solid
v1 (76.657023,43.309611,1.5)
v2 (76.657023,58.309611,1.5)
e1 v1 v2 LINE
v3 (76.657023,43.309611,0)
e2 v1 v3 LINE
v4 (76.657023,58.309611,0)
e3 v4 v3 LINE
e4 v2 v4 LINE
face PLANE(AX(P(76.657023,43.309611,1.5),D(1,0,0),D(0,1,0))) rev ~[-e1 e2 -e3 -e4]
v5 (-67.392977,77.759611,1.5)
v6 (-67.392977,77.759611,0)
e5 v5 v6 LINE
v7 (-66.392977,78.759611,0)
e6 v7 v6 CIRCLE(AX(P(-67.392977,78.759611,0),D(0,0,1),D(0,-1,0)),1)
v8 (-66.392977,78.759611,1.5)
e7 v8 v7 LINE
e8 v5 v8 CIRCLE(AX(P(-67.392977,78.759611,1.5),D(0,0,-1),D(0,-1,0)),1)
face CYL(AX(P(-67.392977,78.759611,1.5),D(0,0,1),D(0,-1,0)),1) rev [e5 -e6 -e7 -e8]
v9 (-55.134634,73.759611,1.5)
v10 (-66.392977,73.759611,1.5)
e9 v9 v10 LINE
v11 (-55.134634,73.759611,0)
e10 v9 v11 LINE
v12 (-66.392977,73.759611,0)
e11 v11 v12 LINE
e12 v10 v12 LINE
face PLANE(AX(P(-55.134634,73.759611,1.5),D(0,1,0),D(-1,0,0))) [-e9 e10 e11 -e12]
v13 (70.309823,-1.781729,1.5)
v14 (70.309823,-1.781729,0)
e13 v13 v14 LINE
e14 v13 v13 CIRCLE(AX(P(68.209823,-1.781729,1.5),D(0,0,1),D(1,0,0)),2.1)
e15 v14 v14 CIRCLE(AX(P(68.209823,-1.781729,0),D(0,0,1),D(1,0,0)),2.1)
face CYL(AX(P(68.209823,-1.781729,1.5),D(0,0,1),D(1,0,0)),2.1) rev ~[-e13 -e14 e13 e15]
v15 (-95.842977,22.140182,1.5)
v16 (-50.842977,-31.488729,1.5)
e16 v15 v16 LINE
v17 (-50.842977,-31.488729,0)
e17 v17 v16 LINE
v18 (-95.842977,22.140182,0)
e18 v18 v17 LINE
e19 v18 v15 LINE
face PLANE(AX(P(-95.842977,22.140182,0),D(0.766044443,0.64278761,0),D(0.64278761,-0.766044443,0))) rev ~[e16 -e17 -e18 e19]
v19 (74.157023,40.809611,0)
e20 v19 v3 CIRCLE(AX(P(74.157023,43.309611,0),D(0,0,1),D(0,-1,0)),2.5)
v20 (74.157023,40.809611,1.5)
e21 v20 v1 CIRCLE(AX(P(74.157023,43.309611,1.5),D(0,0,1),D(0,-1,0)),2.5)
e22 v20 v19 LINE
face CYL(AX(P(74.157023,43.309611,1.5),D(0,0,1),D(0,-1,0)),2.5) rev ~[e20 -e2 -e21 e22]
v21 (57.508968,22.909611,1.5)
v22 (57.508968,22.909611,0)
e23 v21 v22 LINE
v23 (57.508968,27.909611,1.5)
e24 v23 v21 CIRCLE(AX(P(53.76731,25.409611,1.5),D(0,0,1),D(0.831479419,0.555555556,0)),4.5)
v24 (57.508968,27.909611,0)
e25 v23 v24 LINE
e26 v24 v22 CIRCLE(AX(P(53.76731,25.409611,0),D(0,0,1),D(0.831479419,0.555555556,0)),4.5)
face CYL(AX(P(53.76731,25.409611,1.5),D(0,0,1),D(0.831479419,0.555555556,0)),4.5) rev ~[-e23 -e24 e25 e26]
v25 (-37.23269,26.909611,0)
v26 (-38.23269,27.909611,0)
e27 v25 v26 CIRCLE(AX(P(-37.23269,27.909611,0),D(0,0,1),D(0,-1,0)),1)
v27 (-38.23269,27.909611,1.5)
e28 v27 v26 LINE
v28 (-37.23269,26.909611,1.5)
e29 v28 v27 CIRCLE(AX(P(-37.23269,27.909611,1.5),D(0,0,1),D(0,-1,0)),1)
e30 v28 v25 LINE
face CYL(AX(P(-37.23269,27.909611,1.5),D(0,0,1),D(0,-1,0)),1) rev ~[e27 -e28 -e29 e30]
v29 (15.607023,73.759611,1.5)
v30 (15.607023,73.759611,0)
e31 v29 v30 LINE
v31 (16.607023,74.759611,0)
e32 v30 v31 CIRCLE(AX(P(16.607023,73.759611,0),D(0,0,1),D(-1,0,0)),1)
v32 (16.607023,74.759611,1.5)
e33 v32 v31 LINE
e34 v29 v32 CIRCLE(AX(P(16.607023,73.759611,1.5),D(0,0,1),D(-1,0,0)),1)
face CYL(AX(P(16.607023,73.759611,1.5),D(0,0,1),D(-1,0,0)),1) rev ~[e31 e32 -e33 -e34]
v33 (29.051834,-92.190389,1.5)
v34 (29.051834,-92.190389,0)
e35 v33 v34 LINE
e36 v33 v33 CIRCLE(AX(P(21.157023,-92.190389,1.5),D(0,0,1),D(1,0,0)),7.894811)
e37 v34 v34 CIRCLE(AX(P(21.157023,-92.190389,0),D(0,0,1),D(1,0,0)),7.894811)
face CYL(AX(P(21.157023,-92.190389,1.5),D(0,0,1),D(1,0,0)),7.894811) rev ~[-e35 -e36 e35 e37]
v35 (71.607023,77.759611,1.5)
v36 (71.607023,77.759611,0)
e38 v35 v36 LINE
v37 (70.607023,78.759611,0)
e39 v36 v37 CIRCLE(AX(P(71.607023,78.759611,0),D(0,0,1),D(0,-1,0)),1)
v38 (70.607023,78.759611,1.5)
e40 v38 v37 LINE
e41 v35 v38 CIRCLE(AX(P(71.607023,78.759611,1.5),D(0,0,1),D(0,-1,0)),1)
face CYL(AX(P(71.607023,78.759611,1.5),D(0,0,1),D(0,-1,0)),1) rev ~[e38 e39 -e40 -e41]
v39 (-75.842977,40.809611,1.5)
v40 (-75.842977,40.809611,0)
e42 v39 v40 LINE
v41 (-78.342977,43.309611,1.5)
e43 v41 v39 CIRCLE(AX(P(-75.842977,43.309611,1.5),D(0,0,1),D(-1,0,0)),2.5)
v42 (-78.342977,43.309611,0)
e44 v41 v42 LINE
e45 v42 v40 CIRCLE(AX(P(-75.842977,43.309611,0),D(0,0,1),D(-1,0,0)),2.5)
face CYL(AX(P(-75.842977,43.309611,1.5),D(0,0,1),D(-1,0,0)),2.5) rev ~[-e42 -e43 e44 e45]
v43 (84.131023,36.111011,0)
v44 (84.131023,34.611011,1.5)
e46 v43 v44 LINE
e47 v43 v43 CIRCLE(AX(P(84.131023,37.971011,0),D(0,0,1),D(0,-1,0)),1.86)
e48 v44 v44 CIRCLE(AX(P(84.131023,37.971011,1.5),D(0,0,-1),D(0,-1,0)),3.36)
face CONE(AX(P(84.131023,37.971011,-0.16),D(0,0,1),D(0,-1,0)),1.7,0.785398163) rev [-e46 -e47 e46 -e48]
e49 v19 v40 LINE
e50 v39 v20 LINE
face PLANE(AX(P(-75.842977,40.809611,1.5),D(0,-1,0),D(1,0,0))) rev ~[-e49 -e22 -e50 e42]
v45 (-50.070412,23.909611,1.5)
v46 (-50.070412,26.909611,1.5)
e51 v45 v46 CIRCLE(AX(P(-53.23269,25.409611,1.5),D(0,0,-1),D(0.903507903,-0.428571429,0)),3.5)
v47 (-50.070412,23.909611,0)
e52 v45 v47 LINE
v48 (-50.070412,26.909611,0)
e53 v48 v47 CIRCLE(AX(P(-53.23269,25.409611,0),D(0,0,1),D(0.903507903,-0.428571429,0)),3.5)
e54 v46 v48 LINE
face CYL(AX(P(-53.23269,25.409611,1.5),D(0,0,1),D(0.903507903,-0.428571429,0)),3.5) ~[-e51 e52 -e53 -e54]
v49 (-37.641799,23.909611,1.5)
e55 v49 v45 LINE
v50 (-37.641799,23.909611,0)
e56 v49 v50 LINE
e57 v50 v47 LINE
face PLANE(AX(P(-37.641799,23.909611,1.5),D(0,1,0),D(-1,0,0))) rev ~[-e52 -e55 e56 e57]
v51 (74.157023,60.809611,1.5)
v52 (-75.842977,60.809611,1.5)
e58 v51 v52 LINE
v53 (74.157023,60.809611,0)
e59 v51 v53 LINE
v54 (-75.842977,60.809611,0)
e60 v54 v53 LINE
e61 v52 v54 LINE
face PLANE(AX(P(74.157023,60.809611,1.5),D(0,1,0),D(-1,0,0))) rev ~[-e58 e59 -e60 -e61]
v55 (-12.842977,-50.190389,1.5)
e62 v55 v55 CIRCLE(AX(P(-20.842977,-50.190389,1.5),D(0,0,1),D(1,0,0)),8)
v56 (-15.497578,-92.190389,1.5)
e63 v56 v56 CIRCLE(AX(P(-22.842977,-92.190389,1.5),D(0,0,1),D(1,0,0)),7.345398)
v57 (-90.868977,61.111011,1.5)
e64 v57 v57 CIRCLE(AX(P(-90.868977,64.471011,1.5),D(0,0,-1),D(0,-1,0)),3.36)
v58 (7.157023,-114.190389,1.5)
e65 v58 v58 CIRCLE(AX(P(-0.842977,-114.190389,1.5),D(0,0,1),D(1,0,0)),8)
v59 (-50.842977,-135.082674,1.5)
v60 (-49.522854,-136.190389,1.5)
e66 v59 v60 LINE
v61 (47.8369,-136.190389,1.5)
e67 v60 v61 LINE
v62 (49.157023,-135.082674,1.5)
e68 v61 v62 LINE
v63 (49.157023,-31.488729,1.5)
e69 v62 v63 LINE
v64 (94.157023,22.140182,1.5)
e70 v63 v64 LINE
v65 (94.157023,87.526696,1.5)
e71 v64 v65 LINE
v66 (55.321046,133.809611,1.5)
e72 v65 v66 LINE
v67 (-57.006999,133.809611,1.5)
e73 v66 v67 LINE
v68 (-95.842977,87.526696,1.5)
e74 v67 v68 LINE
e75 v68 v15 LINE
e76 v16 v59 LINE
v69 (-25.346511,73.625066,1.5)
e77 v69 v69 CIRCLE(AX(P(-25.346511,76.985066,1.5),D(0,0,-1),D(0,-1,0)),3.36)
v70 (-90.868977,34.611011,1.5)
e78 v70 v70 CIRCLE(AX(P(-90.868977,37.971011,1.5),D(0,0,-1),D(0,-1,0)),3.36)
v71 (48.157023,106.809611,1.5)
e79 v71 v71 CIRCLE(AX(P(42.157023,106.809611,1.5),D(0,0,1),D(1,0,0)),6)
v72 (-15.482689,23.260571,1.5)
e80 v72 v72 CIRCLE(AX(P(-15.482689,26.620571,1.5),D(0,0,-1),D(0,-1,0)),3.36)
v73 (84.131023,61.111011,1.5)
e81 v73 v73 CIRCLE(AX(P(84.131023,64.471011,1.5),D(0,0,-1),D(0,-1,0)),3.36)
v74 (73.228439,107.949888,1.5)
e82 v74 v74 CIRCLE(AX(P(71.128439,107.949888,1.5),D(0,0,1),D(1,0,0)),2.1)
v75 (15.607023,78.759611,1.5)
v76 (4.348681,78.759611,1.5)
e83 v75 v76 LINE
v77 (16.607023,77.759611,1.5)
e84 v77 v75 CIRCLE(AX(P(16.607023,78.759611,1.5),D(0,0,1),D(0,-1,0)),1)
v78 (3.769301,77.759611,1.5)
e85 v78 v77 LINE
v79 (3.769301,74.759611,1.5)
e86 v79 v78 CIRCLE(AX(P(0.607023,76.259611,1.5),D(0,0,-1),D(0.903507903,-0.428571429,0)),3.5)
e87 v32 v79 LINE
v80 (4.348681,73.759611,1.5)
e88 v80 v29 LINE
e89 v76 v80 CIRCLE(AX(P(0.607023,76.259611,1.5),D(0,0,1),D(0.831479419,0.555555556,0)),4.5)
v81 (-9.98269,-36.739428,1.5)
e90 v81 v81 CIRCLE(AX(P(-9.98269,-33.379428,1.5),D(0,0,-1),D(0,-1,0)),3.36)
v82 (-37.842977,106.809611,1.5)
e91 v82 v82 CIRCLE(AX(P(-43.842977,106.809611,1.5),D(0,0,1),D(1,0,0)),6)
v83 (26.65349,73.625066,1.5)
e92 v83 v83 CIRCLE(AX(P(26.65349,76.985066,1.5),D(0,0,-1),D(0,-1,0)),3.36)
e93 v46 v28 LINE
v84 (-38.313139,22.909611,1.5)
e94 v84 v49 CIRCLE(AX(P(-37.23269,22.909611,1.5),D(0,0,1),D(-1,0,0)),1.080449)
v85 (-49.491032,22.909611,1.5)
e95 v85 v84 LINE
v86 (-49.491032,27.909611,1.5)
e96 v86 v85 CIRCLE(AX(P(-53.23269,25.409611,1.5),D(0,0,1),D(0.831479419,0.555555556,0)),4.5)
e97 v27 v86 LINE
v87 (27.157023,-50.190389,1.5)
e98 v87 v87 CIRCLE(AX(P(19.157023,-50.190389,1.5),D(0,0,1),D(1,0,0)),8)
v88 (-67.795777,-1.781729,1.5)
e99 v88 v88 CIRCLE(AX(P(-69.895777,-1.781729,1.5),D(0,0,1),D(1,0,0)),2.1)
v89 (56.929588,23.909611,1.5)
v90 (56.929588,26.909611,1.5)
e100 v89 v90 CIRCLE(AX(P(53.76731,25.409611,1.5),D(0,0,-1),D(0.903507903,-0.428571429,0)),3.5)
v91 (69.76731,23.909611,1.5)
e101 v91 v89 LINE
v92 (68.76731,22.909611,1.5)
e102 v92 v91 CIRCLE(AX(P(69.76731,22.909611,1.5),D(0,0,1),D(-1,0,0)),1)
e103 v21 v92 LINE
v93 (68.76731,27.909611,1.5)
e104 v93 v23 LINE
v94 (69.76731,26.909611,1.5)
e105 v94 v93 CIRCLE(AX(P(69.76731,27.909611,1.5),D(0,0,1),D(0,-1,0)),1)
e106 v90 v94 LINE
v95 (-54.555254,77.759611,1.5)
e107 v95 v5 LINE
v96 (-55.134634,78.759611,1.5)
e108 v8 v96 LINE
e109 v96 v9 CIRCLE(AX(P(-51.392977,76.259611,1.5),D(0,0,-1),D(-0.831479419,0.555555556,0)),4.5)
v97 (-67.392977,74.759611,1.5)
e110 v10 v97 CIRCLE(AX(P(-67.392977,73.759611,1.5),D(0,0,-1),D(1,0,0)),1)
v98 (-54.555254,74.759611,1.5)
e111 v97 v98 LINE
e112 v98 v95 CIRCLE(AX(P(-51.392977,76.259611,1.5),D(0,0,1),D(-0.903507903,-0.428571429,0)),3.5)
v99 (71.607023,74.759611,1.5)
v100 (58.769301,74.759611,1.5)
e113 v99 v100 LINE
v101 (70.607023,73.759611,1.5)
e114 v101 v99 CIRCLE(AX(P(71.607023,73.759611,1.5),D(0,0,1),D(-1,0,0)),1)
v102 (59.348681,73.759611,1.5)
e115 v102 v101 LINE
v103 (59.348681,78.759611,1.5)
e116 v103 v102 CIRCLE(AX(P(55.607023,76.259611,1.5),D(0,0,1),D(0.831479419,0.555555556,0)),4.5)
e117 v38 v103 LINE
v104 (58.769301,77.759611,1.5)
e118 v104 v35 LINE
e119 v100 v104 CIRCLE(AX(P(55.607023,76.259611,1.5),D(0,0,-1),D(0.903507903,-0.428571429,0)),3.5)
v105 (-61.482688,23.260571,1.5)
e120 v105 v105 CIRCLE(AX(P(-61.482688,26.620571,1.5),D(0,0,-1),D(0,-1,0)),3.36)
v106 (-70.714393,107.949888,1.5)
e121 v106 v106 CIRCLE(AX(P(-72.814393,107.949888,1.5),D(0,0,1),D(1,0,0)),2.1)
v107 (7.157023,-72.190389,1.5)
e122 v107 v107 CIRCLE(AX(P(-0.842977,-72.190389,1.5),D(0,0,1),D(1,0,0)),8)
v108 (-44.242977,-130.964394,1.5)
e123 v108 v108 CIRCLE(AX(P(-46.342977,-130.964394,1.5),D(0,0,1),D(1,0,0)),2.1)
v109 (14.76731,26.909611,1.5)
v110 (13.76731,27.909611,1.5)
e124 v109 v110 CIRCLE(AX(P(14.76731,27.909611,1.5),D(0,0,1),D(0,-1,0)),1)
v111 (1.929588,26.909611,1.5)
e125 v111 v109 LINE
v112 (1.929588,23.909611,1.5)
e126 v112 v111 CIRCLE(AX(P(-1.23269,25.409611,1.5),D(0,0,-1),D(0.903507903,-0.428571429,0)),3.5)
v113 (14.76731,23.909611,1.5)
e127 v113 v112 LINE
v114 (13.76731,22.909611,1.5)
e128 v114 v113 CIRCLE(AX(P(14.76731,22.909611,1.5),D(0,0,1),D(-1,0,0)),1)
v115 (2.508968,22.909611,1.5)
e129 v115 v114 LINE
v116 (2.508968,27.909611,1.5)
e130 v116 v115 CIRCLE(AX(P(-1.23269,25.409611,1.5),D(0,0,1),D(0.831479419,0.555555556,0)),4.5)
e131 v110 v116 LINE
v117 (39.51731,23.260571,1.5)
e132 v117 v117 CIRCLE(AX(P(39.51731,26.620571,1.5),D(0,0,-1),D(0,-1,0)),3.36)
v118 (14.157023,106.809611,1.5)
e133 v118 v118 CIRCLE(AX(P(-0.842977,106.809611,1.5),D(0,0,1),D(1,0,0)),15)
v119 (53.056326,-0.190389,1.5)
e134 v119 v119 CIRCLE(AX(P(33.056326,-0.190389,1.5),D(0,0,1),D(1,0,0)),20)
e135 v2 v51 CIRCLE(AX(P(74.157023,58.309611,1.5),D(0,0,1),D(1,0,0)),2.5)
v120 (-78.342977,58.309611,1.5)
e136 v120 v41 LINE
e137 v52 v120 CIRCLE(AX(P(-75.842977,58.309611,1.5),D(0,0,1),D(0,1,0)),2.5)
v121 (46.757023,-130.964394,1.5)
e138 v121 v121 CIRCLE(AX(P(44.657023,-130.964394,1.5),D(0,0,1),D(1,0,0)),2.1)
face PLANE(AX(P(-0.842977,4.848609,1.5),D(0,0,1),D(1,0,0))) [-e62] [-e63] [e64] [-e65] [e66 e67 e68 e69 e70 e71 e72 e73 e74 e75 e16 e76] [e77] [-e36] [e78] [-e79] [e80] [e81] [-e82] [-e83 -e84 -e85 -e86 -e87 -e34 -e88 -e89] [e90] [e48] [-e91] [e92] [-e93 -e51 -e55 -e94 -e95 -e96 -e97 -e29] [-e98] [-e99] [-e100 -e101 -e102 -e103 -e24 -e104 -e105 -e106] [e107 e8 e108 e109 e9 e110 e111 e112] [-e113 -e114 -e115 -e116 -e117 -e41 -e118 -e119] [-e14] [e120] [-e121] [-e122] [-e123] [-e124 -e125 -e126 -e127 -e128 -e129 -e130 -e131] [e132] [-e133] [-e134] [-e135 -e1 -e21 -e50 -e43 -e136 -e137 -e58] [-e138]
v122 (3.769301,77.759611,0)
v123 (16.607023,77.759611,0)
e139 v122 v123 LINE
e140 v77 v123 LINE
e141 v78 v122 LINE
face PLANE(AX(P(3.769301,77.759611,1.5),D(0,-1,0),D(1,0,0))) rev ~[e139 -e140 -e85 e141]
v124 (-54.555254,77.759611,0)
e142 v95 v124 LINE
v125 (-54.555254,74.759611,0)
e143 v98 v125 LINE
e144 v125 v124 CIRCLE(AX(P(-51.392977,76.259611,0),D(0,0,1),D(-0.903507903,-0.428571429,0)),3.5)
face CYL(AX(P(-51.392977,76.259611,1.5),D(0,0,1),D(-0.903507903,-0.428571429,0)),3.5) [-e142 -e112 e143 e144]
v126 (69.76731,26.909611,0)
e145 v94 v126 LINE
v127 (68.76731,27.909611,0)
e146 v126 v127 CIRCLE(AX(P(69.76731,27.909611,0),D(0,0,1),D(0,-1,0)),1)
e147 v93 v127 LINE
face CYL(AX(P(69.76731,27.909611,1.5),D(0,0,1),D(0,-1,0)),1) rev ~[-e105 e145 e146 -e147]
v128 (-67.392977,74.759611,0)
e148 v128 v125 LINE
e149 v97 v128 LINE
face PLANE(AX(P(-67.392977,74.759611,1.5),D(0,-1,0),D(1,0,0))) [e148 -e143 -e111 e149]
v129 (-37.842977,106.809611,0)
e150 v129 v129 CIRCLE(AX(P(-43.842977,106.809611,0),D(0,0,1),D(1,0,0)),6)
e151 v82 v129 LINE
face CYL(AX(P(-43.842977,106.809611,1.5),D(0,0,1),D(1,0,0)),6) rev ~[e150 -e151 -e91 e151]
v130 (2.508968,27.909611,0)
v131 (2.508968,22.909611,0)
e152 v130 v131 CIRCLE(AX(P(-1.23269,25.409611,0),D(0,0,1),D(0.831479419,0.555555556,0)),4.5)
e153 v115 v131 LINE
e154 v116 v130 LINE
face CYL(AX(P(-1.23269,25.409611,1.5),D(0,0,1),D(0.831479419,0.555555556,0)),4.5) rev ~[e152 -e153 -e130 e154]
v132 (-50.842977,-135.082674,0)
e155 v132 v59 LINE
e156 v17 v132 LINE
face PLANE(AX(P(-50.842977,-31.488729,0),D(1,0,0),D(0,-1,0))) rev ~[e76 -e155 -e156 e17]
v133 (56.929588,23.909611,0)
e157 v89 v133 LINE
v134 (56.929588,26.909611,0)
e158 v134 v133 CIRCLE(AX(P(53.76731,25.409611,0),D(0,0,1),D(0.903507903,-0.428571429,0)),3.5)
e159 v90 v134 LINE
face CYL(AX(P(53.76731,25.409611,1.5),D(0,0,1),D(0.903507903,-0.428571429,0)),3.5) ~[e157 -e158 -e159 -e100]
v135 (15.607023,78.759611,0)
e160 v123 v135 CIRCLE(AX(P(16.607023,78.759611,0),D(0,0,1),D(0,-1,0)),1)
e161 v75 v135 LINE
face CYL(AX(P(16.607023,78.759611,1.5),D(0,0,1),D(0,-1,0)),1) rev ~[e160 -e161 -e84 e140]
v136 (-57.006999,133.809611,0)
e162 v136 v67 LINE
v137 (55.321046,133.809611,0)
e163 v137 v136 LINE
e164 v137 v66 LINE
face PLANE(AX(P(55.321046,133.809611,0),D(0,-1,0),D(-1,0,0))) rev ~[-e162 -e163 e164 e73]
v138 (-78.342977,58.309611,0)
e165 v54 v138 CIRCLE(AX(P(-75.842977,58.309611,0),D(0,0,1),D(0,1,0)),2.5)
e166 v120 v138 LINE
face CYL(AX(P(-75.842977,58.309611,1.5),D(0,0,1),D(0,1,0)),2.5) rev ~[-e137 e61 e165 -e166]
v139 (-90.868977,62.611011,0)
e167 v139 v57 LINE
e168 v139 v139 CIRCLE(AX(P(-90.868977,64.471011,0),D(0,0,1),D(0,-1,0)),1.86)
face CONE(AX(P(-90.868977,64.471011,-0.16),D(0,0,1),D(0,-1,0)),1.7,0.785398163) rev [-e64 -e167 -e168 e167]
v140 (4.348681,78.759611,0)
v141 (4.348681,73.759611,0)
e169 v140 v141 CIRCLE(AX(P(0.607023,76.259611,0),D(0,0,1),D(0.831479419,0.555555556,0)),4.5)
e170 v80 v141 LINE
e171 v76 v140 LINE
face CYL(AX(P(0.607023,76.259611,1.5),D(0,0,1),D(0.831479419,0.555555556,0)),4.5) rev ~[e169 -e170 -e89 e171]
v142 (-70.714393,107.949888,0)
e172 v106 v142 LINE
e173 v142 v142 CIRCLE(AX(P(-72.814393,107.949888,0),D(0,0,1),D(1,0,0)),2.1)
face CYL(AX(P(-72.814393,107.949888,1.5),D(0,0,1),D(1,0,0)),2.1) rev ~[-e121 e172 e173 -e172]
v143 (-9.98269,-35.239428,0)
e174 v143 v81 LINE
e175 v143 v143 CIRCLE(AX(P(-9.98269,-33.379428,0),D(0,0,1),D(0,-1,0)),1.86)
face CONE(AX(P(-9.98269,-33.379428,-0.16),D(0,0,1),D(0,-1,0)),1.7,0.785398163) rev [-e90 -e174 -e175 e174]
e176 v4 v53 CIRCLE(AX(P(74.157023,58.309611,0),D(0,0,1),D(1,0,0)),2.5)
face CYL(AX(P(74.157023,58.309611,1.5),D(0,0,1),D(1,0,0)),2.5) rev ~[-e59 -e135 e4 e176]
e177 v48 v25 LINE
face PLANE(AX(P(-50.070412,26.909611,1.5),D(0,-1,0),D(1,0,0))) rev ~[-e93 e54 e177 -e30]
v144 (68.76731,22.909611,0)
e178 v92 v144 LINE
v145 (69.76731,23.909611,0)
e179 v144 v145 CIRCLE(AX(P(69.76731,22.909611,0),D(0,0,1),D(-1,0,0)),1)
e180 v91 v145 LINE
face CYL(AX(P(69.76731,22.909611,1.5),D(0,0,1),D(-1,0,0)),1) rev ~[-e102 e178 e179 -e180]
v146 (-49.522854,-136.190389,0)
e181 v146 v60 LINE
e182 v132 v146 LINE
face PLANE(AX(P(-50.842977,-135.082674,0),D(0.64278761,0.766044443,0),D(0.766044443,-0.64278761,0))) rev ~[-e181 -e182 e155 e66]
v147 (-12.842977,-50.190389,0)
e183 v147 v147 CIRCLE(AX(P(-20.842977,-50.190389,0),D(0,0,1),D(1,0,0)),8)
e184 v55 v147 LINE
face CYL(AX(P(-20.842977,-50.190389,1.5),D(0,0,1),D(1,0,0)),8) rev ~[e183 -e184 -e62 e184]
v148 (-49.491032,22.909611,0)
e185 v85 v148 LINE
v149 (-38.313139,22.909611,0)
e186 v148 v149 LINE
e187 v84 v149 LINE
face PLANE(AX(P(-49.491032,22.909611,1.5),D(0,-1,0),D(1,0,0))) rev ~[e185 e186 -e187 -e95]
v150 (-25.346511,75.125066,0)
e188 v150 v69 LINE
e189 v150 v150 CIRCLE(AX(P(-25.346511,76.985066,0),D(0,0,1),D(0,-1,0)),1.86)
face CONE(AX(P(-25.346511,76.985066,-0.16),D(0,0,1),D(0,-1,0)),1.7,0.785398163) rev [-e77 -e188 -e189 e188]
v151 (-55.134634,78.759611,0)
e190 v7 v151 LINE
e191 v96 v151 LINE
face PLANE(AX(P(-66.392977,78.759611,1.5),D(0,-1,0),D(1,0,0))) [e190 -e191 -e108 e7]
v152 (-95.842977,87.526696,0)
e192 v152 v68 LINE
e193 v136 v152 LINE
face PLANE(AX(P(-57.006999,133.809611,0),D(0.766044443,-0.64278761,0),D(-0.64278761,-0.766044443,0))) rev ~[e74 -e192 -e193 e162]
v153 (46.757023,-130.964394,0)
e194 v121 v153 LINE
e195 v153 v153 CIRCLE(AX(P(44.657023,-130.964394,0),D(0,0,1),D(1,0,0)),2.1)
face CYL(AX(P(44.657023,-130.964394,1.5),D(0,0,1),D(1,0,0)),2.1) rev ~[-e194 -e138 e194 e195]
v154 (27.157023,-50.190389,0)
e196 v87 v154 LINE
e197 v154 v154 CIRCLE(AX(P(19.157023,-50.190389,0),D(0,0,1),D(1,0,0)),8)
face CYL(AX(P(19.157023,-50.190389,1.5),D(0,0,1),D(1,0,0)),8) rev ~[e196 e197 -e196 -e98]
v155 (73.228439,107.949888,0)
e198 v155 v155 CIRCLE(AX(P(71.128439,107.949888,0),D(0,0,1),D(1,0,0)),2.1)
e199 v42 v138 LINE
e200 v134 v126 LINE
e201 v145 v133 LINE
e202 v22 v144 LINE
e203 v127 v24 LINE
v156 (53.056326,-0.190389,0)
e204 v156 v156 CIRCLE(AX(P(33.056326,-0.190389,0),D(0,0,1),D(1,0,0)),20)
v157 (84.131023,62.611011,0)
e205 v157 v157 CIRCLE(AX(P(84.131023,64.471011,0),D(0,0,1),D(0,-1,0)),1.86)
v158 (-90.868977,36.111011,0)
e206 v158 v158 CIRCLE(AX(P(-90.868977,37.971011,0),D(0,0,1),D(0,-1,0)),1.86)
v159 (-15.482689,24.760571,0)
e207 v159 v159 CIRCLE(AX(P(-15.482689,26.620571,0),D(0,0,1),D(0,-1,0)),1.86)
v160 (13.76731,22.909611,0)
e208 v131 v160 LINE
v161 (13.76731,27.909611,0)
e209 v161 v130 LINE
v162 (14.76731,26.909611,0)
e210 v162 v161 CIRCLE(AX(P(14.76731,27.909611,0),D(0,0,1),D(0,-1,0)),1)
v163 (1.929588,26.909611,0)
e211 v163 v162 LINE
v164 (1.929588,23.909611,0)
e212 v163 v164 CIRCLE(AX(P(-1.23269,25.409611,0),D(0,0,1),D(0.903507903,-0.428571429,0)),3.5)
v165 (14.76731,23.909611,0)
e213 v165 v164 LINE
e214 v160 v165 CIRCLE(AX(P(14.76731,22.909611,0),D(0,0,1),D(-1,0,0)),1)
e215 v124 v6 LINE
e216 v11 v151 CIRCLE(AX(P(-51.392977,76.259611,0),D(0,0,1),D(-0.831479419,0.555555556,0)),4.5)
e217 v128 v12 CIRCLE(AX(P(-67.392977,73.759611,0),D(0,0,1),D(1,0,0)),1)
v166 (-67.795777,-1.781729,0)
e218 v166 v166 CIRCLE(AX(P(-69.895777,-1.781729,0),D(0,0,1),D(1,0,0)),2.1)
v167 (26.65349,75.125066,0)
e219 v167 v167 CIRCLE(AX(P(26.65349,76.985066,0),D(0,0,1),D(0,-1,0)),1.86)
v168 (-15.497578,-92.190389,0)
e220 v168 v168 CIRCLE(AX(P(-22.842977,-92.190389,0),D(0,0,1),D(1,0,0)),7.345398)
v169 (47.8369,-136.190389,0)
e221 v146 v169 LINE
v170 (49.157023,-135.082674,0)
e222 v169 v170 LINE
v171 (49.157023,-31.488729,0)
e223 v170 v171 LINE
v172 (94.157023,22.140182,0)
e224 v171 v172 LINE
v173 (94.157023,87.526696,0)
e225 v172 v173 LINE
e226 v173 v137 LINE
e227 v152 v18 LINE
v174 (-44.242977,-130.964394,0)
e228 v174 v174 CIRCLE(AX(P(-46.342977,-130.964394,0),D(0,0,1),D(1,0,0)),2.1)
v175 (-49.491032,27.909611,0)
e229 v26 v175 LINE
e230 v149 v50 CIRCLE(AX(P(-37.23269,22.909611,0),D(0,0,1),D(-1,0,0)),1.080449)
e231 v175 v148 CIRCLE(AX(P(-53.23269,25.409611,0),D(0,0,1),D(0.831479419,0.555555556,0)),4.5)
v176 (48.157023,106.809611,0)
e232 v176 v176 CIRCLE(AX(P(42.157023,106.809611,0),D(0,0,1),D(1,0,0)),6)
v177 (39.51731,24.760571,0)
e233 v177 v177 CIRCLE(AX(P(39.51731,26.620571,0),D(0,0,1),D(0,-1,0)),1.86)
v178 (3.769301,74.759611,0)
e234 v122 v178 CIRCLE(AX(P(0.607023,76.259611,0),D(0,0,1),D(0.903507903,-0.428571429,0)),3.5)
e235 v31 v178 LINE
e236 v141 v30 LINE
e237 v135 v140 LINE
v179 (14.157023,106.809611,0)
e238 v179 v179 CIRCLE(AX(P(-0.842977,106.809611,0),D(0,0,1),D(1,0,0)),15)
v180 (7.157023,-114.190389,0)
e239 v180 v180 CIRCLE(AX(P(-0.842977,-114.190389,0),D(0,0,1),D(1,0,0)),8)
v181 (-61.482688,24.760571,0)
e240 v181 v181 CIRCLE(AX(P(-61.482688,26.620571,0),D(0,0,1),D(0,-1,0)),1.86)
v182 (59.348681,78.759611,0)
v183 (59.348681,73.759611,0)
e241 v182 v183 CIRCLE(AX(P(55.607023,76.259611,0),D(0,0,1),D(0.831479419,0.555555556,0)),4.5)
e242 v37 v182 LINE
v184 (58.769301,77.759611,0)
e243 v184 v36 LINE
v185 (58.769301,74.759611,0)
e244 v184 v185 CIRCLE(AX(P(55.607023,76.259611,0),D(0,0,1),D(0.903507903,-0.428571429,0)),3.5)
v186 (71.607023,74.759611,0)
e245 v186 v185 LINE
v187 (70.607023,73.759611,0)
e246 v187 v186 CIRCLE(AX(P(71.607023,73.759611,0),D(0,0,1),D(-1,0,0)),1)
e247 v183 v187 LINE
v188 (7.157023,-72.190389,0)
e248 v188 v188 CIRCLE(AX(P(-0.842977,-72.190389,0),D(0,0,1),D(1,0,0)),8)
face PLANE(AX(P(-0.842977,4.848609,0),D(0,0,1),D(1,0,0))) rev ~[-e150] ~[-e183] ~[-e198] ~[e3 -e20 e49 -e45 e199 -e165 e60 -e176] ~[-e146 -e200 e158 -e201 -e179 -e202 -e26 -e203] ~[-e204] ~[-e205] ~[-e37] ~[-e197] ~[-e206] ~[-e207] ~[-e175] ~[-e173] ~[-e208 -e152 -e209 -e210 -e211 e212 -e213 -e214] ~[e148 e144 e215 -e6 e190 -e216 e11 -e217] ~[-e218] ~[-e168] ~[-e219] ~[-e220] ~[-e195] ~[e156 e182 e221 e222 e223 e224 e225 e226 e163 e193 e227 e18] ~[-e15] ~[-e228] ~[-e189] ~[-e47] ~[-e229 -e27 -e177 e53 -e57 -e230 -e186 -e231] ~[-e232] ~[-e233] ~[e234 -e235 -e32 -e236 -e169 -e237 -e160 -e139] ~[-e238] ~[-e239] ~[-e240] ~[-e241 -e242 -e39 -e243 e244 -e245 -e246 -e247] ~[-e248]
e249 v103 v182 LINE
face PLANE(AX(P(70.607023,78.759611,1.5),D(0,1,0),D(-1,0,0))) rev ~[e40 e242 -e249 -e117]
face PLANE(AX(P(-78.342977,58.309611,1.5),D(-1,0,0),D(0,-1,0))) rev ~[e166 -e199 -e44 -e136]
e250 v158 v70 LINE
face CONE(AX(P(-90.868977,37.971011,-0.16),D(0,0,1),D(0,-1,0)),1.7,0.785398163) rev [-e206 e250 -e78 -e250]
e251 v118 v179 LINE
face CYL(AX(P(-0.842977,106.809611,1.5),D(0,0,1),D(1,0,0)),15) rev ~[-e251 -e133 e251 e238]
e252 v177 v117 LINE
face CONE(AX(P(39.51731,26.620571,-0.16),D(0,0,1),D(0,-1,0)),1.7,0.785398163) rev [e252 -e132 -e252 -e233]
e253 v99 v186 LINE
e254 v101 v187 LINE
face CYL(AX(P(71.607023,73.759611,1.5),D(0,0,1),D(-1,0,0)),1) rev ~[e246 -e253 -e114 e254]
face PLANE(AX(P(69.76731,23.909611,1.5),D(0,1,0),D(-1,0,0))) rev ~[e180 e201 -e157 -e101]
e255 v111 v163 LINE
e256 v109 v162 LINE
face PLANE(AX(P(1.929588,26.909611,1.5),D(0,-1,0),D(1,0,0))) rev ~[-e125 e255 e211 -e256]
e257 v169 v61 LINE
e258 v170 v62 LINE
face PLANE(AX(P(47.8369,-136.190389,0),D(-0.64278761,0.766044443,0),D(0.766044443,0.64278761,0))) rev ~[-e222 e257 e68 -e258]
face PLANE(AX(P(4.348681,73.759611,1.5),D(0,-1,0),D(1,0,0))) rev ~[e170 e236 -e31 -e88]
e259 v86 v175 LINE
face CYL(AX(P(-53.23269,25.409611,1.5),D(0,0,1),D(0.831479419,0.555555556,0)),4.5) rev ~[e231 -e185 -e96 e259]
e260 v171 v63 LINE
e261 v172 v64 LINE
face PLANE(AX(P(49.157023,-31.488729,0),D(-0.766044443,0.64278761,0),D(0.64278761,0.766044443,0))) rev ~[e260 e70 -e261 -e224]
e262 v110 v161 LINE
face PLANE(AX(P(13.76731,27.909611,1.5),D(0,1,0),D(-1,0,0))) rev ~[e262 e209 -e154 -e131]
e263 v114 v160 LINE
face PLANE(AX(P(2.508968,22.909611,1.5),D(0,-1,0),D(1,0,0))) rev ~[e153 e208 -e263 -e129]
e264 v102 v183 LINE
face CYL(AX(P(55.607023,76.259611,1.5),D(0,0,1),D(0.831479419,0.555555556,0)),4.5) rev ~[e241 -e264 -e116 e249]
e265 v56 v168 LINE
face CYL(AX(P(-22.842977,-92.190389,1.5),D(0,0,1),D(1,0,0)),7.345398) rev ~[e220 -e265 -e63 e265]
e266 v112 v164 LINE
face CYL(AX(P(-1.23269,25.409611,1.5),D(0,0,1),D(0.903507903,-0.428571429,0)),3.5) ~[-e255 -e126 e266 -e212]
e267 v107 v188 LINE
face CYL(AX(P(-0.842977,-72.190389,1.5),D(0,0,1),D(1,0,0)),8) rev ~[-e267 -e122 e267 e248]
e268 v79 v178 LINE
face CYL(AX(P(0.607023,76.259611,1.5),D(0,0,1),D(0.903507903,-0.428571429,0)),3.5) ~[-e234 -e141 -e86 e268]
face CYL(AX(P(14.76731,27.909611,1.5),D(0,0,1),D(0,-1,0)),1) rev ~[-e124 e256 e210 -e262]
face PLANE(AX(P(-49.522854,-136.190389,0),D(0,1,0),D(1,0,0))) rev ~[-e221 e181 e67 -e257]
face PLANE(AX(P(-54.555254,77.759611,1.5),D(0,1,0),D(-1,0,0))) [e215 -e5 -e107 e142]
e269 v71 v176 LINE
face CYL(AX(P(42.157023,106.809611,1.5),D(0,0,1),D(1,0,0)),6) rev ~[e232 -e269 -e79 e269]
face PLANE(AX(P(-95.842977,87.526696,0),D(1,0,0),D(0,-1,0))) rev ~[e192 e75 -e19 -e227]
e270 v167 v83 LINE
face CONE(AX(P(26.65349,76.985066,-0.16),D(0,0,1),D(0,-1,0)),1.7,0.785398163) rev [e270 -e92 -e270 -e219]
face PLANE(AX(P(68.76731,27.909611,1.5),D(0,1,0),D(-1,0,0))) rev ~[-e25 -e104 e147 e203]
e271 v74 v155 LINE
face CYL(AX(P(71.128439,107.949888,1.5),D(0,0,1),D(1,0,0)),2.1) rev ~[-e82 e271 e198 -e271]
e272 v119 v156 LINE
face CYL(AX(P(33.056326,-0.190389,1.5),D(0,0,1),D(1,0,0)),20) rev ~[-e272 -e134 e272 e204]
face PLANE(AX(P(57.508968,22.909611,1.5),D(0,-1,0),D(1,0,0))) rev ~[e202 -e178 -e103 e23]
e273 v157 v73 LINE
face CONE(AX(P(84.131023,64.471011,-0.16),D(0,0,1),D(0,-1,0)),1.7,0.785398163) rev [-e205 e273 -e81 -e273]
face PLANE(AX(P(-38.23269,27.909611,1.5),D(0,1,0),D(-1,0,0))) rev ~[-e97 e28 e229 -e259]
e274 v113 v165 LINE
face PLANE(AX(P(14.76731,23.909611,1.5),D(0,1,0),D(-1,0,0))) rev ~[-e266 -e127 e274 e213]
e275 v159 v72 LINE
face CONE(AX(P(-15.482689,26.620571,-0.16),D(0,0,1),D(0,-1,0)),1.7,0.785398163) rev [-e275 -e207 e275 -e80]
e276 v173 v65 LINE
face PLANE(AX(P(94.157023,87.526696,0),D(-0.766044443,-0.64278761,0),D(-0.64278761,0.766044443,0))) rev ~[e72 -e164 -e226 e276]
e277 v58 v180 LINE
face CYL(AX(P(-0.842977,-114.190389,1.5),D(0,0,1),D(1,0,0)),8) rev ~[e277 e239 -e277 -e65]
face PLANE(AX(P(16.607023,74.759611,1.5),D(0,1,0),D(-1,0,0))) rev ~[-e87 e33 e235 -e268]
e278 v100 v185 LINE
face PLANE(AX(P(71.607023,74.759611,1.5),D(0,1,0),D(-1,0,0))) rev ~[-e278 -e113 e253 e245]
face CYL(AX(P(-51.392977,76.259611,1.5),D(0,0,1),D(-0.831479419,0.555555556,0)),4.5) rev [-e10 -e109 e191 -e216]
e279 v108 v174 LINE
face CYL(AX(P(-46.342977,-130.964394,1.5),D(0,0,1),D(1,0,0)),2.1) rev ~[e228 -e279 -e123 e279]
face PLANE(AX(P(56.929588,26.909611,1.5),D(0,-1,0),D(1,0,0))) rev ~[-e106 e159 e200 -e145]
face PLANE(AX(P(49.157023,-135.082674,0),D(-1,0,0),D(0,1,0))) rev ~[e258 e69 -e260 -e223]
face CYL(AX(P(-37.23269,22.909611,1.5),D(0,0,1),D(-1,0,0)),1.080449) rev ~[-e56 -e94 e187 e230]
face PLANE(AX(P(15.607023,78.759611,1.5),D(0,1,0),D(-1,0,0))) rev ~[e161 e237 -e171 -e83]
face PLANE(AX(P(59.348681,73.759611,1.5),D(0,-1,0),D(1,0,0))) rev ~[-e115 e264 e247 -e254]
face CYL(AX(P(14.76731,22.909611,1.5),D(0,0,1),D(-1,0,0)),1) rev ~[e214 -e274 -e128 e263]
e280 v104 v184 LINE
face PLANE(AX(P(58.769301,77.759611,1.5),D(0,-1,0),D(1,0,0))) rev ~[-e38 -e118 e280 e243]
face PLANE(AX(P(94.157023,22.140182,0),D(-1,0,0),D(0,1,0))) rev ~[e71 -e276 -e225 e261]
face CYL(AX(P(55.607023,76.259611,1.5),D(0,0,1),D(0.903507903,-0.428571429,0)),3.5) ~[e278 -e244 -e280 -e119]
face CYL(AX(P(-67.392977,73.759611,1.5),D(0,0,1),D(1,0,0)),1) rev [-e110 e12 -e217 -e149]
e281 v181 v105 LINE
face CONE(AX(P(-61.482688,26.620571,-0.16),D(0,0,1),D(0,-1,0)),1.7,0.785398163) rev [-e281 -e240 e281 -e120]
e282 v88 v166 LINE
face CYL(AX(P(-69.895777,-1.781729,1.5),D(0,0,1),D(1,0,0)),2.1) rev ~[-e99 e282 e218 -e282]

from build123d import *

# Parameters (mm, degrees)
RESSALTO_EXTRUS_O1_DEPTH                      = 1.5
CORTE_EXTRUS_O1_REACH                         = 3.5
ESBO_O2_R                                     = 2.1
CORTE_EXTRUS_O2_REACH                         = 3.5
CORTE_EXTRUS_O3_REACH                         = 3.5
ESBO_O4_R                                     = 20
CORTE_EXTRUS_O4_REACH                         = 3.5
ESBO_O5_R                                     = 8
ESBO_O5_R_2                                   = 7.345398281
ESBO_O5_R_3                                   = 7.894810857
ESBO_O5_R_4                                   = 15
ESBO_O5_R_5                                   = 6
ESCAREADO_PARA_PARAFUSO_ALLEN_SEXTAV_2_COUNT  = 2
ESCAREADO_PARA_PARAFUSO_ALLEN_SEXTAV_2_PITCH  = 26.5
ESCAREADO_PARA_PARAFUSO_ALLEN_SEXTAV_3_COUNT  = 2
ESCAREADO_PARA_PARAFUSO_ALLEN_SEXTAV_3_PITCH  = 47.918783057
ESCAREADO_PARA_PARAFUSO_ALLEN_SEXTAV_4_COUNT  = 2
ESCAREADO_PARA_PARAFUSO_ALLEN_SEXTAV_4_PITCH  = 84.354894452
ESCAREADO_PARA_PARAFUSO_ALLEN_SEXTAV_5_COUNT  = 2
ESCAREADO_PARA_PARAFUSO_ALLEN_SEXTAV_5_PITCH  = 135.769067452
ESCAREADO_PARA_PARAFUSO_ALLEN_SEXTAV_6_COUNT  = 2
ESCAREADO_PARA_PARAFUSO_ALLEN_SEXTAV_6_PITCH  = 176.995056428
ESCAREADO_PARA_PARAFUSO_ALLEN_SEXTAV_7_COUNT  = 2
ESCAREADO_PARA_PARAFUSO_ALLEN_SEXTAV_7_PITCH  = 175
ESCAREADO_PARA_PARAFUSO_ALLEN_SEXTAV_8_COUNT  = 2
ESCAREADO_PARA_PARAFUSO_ALLEN_SEXTAV_8_PITCH  = 118.186850654
ESCAREADO_PARA_PARAFUSO_ALLEN_SEXTAV_9_COUNT  = 2
ESCAREADO_PARA_PARAFUSO_ALLEN_SEXTAV_9_PITCH  = 66.706784875
ESCAREADO_PARA_PARAFUSO_ALLEN_SEXTAV_10_COUNT = 2
ESCAREADO_PARA_PARAFUSO_ALLEN_SEXTAV_10_PITCH = 126.953928461
CORTE_EXTRUS_O5_DEPTH                         = 10


with BuildPart() as part:
    # Esboço1 → Ressalto-extrusão1 (new body)
    with BuildSketch(Plane.XY):
        Polygon((55.321046002, 133.809611411), (-57.006999458, 133.809611411), (-95.842976728, 87.526695978), (-95.842976728, 22.140182404), (-50.842976728, -31.488729263), (-50.842976728, -135.082673958), (-49.522853837, -136.190388589), (47.836900381, -136.190388589), (49.157023272, -135.082673958), (49.157023272, -31.488729263), (94.157023272, 22.140182404), (94.157023272, 87.526695978), align=None)
    extrude(amount=RESSALTO_EXTRUS_O1_DEPTH)

    # Esboço2 → Corte-extrusão1 (cut, up to next)
    with BuildSketch(Plane.XY.offset(1.5), mode=Mode.PRIVATE) as corte_extrus_o1_sk1:
        with Locations((-72.814392548, 107.949888211)):
            Circle(ESBO_O2_R)
    corte_extrus_o1_tool1 = extrude(corte_extrus_o1_sk1.sketch, amount=-CORTE_EXTRUS_O1_REACH, mode=Mode.PRIVATE) & part.part
    add(corte_extrus_o1_tool1.solids().sort_by_distance((-72.814393, 107.949888, 1.5))[0], mode=Mode.SUBTRACT)
    # Esboço2 → Corte-extrusão1 (cut, up to next)
    with BuildSketch(Plane.XY.offset(1.5), mode=Mode.PRIVATE) as corte_extrus_o1_sk2:
        with Locations((-46.342976728, -130.964393909)):
            Circle(ESBO_O2_R)
    corte_extrus_o1_tool2 = extrude(corte_extrus_o1_sk2.sketch, amount=-CORTE_EXTRUS_O1_REACH, mode=Mode.PRIVATE) & part.part
    add(corte_extrus_o1_tool2.solids().sort_by_distance((-46.342977, -130.964394, 1.5))[0], mode=Mode.SUBTRACT)
    # Esboço2 → Corte-extrusão1 (cut, up to next)
    with BuildSketch(Plane.XY.offset(1.5), mode=Mode.PRIVATE) as corte_extrus_o1_sk3:
        with Locations((44.657023272, -130.964393909)):
            Circle(ESBO_O2_R)
    corte_extrus_o1_tool3 = extrude(corte_extrus_o1_sk3.sketch, amount=-CORTE_EXTRUS_O1_REACH, mode=Mode.PRIVATE) & part.part
    add(corte_extrus_o1_tool3.solids().sort_by_distance((44.657023, -130.964394, 1.5))[0], mode=Mode.SUBTRACT)
    # Esboço2 → Corte-extrusão1 (cut, up to next)
    with BuildSketch(Plane.XY.offset(1.5), mode=Mode.PRIVATE) as corte_extrus_o1_sk4:
        with Locations((71.128439092, 107.949888211)):
            Circle(ESBO_O2_R)
    corte_extrus_o1_tool4 = extrude(corte_extrus_o1_sk4.sketch, amount=-CORTE_EXTRUS_O1_REACH, mode=Mode.PRIVATE) & part.part
    add(corte_extrus_o1_tool4.solids().sort_by_distance((71.128439, 107.949888, 1.5))[0], mode=Mode.SUBTRACT)
    # Esboço2 → Corte-extrusão1 (cut, up to next)
    with BuildSketch(Plane.XY.offset(1.5), mode=Mode.PRIVATE) as corte_extrus_o1_sk5:
        with Locations((-69.895776734, -1.781729186)):
            Circle(ESBO_O2_R)
    corte_extrus_o1_tool5 = extrude(corte_extrus_o1_sk5.sketch, amount=-CORTE_EXTRUS_O1_REACH, mode=Mode.PRIVATE) & part.part
    add(corte_extrus_o1_tool5.solids().sort_by_distance((-69.895777, -1.781729, 1.5))[0], mode=Mode.SUBTRACT)
    # Esboço2 → Corte-extrusão1 (cut, up to next)
    with BuildSketch(Plane.XY.offset(1.5), mode=Mode.PRIVATE) as corte_extrus_o1_sk6:
        with Locations((68.209823278, -1.781729186)):
            Circle(ESBO_O2_R)
    corte_extrus_o1_tool6 = extrude(corte_extrus_o1_sk6.sketch, amount=-CORTE_EXTRUS_O1_REACH, mode=Mode.PRIVATE) & part.part
    add(corte_extrus_o1_tool6.solids().sort_by_distance((68.209823, -1.781729, 1.5))[0], mode=Mode.SUBTRACT)

    # Esboço3 → Corte-extrusão2 (cut, up to next)
    with BuildSketch(Plane.XY.offset(1.5), mode=Mode.PRIVATE) as corte_extrus_o2_sk1:
        with BuildLine():
            Line((-75.842976728, 40.809611411), (74.157023272, 40.809611411))
            ThreePointArc((74.157023272, 40.809611411), (75.924790225, 41.541844458), (76.657023272, 43.309611411))
            Line((76.657023272, 43.309611411), (76.657023272, 58.309611411))
            ThreePointArc((76.657023272, 58.309611411), (75.924790225, 60.077378364), (74.157023272, 60.809611411))
            Line((74.157023272, 60.809611411), (-75.842976728, 60.809611411))
            ThreePointArc((-75.842976728, 60.809611411), (-77.610743681, 60.077378364), (-78.342976728, 58.309611411))
            Line((-78.342976728, 58.309611411), (-78.342976728, 43.309611411))
            ThreePointArc((-78.342976728, 43.309611411), (-77.610743681, 41.541844458), (-75.842976728, 40.809611411))
        make_face()
    corte_extrus_o2_tool1 = extrude(corte_extrus_o2_sk1.sketch, amount=-CORTE_EXTRUS_O2_REACH, mode=Mode.PRIVATE) & part.part
    add(corte_extrus_o2_tool1.solids().sort_by_distance((-0.842977, 50.809611, 1.5))[0], mode=Mode.SUBTRACT)

    # Esboço4 → Corte-extrusão3 (cut, up to next)
    with BuildSketch(Plane.XY.offset(1.5), mode=Mode.PRIVATE) as corte_extrus_o3_sk1:
        with Locations((33.056325833, -0.190388589)):
            Circle(ESBO_O4_R)
    corte_extrus_o3_tool1 = extrude(corte_extrus_o3_sk1.sketch, amount=-CORTE_EXTRUS_O3_REACH, mode=Mode.PRIVATE) & part.part
    add(corte_extrus_o3_tool1.solids().sort_by_distance((33.056326, -0.190389, 1.5))[0], mode=Mode.SUBTRACT)

    # Esboço5 → Corte-extrusão4 (cut, up to next)
    with BuildSketch(Plane.XY.offset(1.5), mode=Mode.PRIVATE) as corte_extrus_o4_sk1:
        with Locations((-0.842976728, -114.190388589)):
            Circle(ESBO_O5_R)
    corte_extrus_o4_tool1 = extrude(corte_extrus_o4_sk1.sketch, amount=-CORTE_EXTRUS_O4_REACH, mode=Mode.PRIVATE) & part.part
    add(corte_extrus_o4_tool1.solids().sort_by_distance((-0.842977, -114.190389, 1.5))[0], mode=Mode.SUBTRACT)
    # Esboço5 → Corte-extrusão4 (cut, up to next)
    with BuildSketch(Plane.XY.offset(1.5), mode=Mode.PRIVATE) as corte_extrus_o4_sk2:
        with Locations((-0.842976728, -72.190388589)):
            Circle(ESBO_O5_R)
    corte_extrus_o4_tool2 = extrude(corte_extrus_o4_sk2.sketch, amount=-CORTE_EXTRUS_O4_REACH, mode=Mode.PRIVATE) & part.part
    add(corte_extrus_o4_tool2.solids().sort_by_distance((-0.842977, -72.190389, 1.5))[0], mode=Mode.SUBTRACT)
    # Esboço5 → Corte-extrusão4 (cut, up to next)
    with BuildSketch(Plane.XY.offset(1.5), mode=Mode.PRIVATE) as corte_extrus_o4_sk3:
        with Locations((-22.842976728, -92.190388589)):
            Circle(ESBO_O5_R_2)
    corte_extrus_o4_tool3 = extrude(corte_extrus_o4_sk3.sketch, amount=-CORTE_EXTRUS_O4_REACH, mode=Mode.PRIVATE) & part.part
    add(corte_extrus_o4_tool3.solids().sort_by_distance((-22.842977, -92.190389, 1.5))[0], mode=Mode.SUBTRACT)
    # Esboço5 → Corte-extrusão4 (cut, up to next)
    with BuildSketch(Plane.XY.offset(1.5), mode=Mode.PRIVATE) as corte_extrus_o4_sk4:
        with Locations((21.157023272, -92.190388589)):
            Circle(ESBO_O5_R_3)
    corte_extrus_o4_tool4 = extrude(corte_extrus_o4_sk4.sketch, amount=-CORTE_EXTRUS_O4_REACH, mode=Mode.PRIVATE) & part.part
    add(corte_extrus_o4_tool4.solids().sort_by_distance((21.157023, -92.190389, 1.5))[0], mode=Mode.SUBTRACT)
    # Esboço5 → Corte-extrusão4 (cut, up to next)
    with BuildSketch(Plane.XY.offset(1.5), mode=Mode.PRIVATE) as corte_extrus_o4_sk5:
        with Locations((-20.842976728, -50.190388589)):
            Circle(ESBO_O5_R)
    corte_extrus_o4_tool5 = extrude(corte_extrus_o4_sk5.sketch, amount=-CORTE_EXTRUS_O4_REACH, mode=Mode.PRIVATE) & part.part
    add(corte_extrus_o4_tool5.solids().sort_by_distance((-20.842977, -50.190389, 1.5))[0], mode=Mode.SUBTRACT)
    # Esboço5 → Corte-extrusão4 (cut, up to next)
    with BuildSketch(Plane.XY.offset(1.5), mode=Mode.PRIVATE) as corte_extrus_o4_sk6:
        with Locations((19.157023272, -50.190388589)):
            Circle(ESBO_O5_R)
    corte_extrus_o4_tool6 = extrude(corte_extrus_o4_sk6.sketch, amount=-CORTE_EXTRUS_O4_REACH, mode=Mode.PRIVATE) & part.part
    add(corte_extrus_o4_tool6.solids().sort_by_distance((19.157023, -50.190389, 1.5))[0], mode=Mode.SUBTRACT)
    # Esboço5 → Corte-extrusão4 (cut, up to next)
    with BuildSketch(Plane.XY.offset(1.5), mode=Mode.PRIVATE) as corte_extrus_o4_sk7:
        with Locations((-0.842976728, 106.809611411)):
            Circle(ESBO_O5_R_4)
    corte_extrus_o4_tool7 = extrude(corte_extrus_o4_sk7.sketch, amount=-CORTE_EXTRUS_O4_REACH, mode=Mode.PRIVATE) & part.part
    add(corte_extrus_o4_tool7.solids().sort_by_distance((-0.842977, 106.809611, 1.5))[0], mode=Mode.SUBTRACT)
    # Esboço5 → Corte-extrusão4 (cut, up to next)
    with BuildSketch(Plane.XY.offset(1.5), mode=Mode.PRIVATE) as corte_extrus_o4_sk8:
        with Locations((-43.842976728, 106.809611411)):
            Circle(ESBO_O5_R_5)
    corte_extrus_o4_tool8 = extrude(corte_extrus_o4_sk8.sketch, amount=-CORTE_EXTRUS_O4_REACH, mode=Mode.PRIVATE) & part.part
    add(corte_extrus_o4_tool8.solids().sort_by_distance((-43.842977, 106.809611, 1.5))[0], mode=Mode.SUBTRACT)
    # Esboço5 → Corte-extrusão4 (cut, up to next)
    with BuildSketch(Plane.XY.offset(1.5), mode=Mode.PRIVATE) as corte_extrus_o4_sk9:
        with Locations((42.157023272, 106.809611411)):
            Circle(ESBO_O5_R_5)
    corte_extrus_o4_tool9 = extrude(corte_extrus_o4_sk9.sketch, amount=-CORTE_EXTRUS_O4_REACH, mode=Mode.PRIVATE) & part.part
    add(corte_extrus_o4_tool9.solids().sort_by_distance((42.157023, 106.809611, 1.5))[0], mode=Mode.SUBTRACT)

    # Esboço11 → Escareado para parafuso Allen sextavado escareado de M32 (revolve, cut)
    with BuildSketch(Plane(origin=(-90.868976728, 64.471011411, 1.5), x_dir=(0, -1, 0), z_dir=(1, 0, 0))):
        Polygon((0, 0), (0, 1.5), (1.7, 1.5), (1.7, 1.66), (3.36, 0), align=None)
    escareado_para_parafuso_allen_sextavado = revolve(axis=Axis((-90.868976728, 64.471011411, 7.85), (0, 0, -1)), mode=Mode.SUBTRACT)

    # Escareado para parafuso Allen sextav 2: Escareado para parafuso Allen sextavado escareado de M32 ×2
    with Locations(*[(0, -i * ESCAREADO_PARA_PARAFUSO_ALLEN_SEXTAV_2_PITCH, 0) for i in range(1, ESCAREADO_PARA_PARAFUSO_ALLEN_SEXTAV_2_COUNT)]):
        add(escareado_para_parafuso_allen_sextavado, mode=Mode.SUBTRACT)

    # Escareado para parafuso Allen sextav 3: Escareado para parafuso Allen sextavado escareado de M32 ×2
    with Locations(*[Vector(0.613251976, -0.789887343, 0) * (i * ESCAREADO_PARA_PARAFUSO_ALLEN_SEXTAV_3_PITCH) for i in range(1, ESCAREADO_PARA_PARAFUSO_ALLEN_SEXTAV_3_COUNT)]):
        add(escareado_para_parafuso_allen_sextavado, mode=Mode.SUBTRACT)

    # Escareado para parafuso Allen sextav 4: Escareado para parafuso Allen sextavado escareado de M32 ×2
    with Locations(*[Vector(0.893680068, -0.448704731, 0) * (i * ESCAREADO_PARA_PARAFUSO_ALLEN_SEXTAV_4_PITCH) for i in range(1, ESCAREADO_PARA_PARAFUSO_ALLEN_SEXTAV_4_COUNT)]):
        add(escareado_para_parafuso_allen_sextavado, mode=Mode.SUBTRACT)

    # Escareado para parafuso Allen sextav 5: Escareado para parafuso Allen sextavado escareado de M32 ×2
    with Locations(*[Vector(0.960353411, -0.278785447, 0) * (i * ESCAREADO_PARA_PARAFUSO_ALLEN_SEXTAV_5_PITCH) for i in range(1, ESCAREADO_PARA_PARAFUSO_ALLEN_SEXTAV_5_COUNT)]):
        add(escareado_para_parafuso_allen_sextavado, mode=Mode.SUBTRACT)

    # Escareado para parafuso Allen sextav 6: Escareado para parafuso Allen sextavado escareado de M32 ×2
    with Locations(*[Vector(0.98872818, -0.149721696, 0) * (i * ESCAREADO_PARA_PARAFUSO_ALLEN_SEXTAV_6_PITCH) for i in range(1, ESCAREADO_PARA_PARAFUSO_ALLEN_SEXTAV_6_COUNT)]):
        add(escareado_para_parafuso_allen_sextavado, mode=Mode.SUBTRACT)

    # Escareado para parafuso Allen sextav 7: Escareado para parafuso Allen sextavado escareado de M32 ×2
    with Locations(*[(i * ESCAREADO_PARA_PARAFUSO_ALLEN_SEXTAV_7_PITCH, 0, 0) for i in range(1, ESCAREADO_PARA_PARAFUSO_ALLEN_SEXTAV_7_COUNT)]):
        add(escareado_para_parafuso_allen_sextavado, mode=Mode.SUBTRACT)

    # Escareado para parafuso Allen sextav 8: Escareado para parafuso Allen sextavado escareado de M32 ×2
    with Locations(*[Vector(0.994378526, 0.105883648, 0) * (i * ESCAREADO_PARA_PARAFUSO_ALLEN_SEXTAV_8_PITCH) for i in range(1, ESCAREADO_PARA_PARAFUSO_ALLEN_SEXTAV_8_COUNT)]):
        add(escareado_para_parafuso_allen_sextavado, mode=Mode.SUBTRACT)

    # Escareado para parafuso Allen sextav 9: Escareado para parafuso Allen sextavado escareado de M32 ×2
    with Locations(*[Vector(0.982245904, 0.187597932, 0) * (i * ESCAREADO_PARA_PARAFUSO_ALLEN_SEXTAV_9_PITCH) for i in range(1, ESCAREADO_PARA_PARAFUSO_ALLEN_SEXTAV_9_COUNT)]):
        add(escareado_para_parafuso_allen_sextavado, mode=Mode.SUBTRACT)

    # Escareado para parafuso Allen sextav 10: Escareado para parafuso Allen sextavado escareado de M32 ×2
    with Locations(*[Vector(0.637131028, -0.770755508, 0) * (i * ESCAREADO_PARA_PARAFUSO_ALLEN_SEXTAV_10_PITCH) for i in range(1, ESCAREADO_PARA_PARAFUSO_ALLEN_SEXTAV_10_COUNT)]):
        add(escareado_para_parafuso_allen_sextavado, mode=Mode.SUBTRACT)

    # Esboço12 → Corte-extrusão5 (cut)
    with BuildSketch(Plane.XY.offset(1.5)):
        with BuildLine():
            Line((56.929587991, 26.909611411), (69.767310331, 26.909611411))
            ThreePointArc((69.767310331, 26.909611411), (70.474417112, 28.616718193), (68.767310331, 27.909611411))
            Line((68.767310331, 27.909611411), (57.508967718, 27.909611411))
            ThreePointArc((57.508967718, 27.909611411), (49.267310331, 25.409611411), (57.508967718, 22.909611411))
            Line((57.508967718, 22.909611411), (68.767310331, 22.909611411))
            ThreePointArc((68.767310331, 22.909611411), (70.474417112, 22.20250463), (69.767310331, 23.909611411))
            Line((69.767310331, 23.909611411), (56.929587991, 23.909611411))
            ThreePointArc((56.929587991, 23.909611411), (50.267310331, 25.409611411), (56.929587991, 26.909611411))
        make_face()
        with BuildLine():
            Line((1.929587991, 26.909611411), (14.767310331, 26.909611411))
            ThreePointArc((14.767310331, 26.909611411), (15.474417112, 28.616718193), (13.767310331, 27.909611411))
            Line((13.767310331, 27.909611411), (2.508967718, 27.909611411))
            ThreePointArc((2.508967718, 27.909611411), (-5.732689669, 25.409611411), (2.508967718, 22.909611411))
            Line((2.508967718, 22.909611411), (13.767310331, 22.909611411))
            ThreePointArc((13.767310331, 22.909611411), (15.474417112, 22.20250463), (14.767310331, 23.909611411))
            Line((14.767310331, 23.909611411), (1.929587991, 23.909611411))
            ThreePointArc((1.929587991, 23.909611411), (-4.732689669, 25.409611411), (1.929587991, 26.909611411))
        make_face()
        with BuildLine():
            Line((-50.070412009, 26.909611411), (-37.232689669, 26.909611411))
            ThreePointArc((-37.232689669, 26.909611411), (-36.525582888, 28.616718193), (-38.232689669, 27.909611411))
            Line((-38.232689669, 27.909611411), (-49.491032282, 27.909611411))
            ThreePointArc((-49.491032282, 27.909611411), (-57.732689669, 25.409611411), (-49.491032282, 22.909611411))
            Line((-49.491032282, 22.909611411), (-38.313138828, 22.909611411))
            ThreePointArc((-38.313138828, 22.909611411), (-36.335641136, 22.307386939), (-37.641798927, 23.909611411))
            Line((-37.641798927, 23.909611411), (-50.070412009, 23.909611411))
            ThreePointArc((-50.070412009, 23.909611411), (-56.732689669, 25.409611411), (-50.070412009, 26.909611411))
        make_face()
        with BuildLine():
            Line((3.769300932, 77.759611411), (16.607023272, 77.759611411))
            ThreePointArc((16.607023272, 77.759611411), (17.314130053, 79.466718193), (15.607023272, 78.759611411))
            Line((15.607023272, 78.759611411), (4.348680659, 78.759611411))
            ThreePointArc((4.348680659, 78.759611411), (-3.892976728, 76.259611411), (4.348680659, 73.759611411))
            Line((4.348680659, 73.759611411), (15.607023272, 73.759611411))
            ThreePointArc((15.607023272, 73.759611411), (17.314130053, 73.05250463), (16.607023272, 74.759611411))
            Line((16.607023272, 74.759611411), (3.769300932, 74.759611411))
            ThreePointArc((3.769300932, 74.759611411), (-2.892976728, 76.259611411), (3.769300932, 77.759611411))
        make_face()
        with BuildLine():
            Line((58.769300932, 77.759611411), (71.607023272, 77.759611411))
            ThreePointArc((71.607023272, 77.759611411), (72.314130053, 79.466718193), (70.607023272, 78.759611411))
            Line((70.607023272, 78.759611411), (59.348680659, 78.759611411))
            ThreePointArc((59.348680659, 78.759611411), (51.107023272, 76.259611411), (59.348680659, 73.759611411))
            Line((59.348680659, 73.759611411), (70.607023272, 73.759611411))
            ThreePointArc((70.607023272, 73.759611411), (72.314130053, 73.05250463), (71.607023272, 74.759611411))
            Line((71.607023272, 74.759611411), (58.769300932, 74.759611411))
            ThreePointArc((58.769300932, 74.759611411), (52.107023272, 76.259611411), (58.769300932, 77.759611411))
        make_face()
        with BuildLine():
            Line((-54.555254388, 77.759611411), (-67.392976728, 77.759611411))
            ThreePointArc((-67.392976728, 77.759611411), (-68.100083509, 79.466718193), (-66.392976728, 78.759611411))
            Line((-66.392976728, 78.759611411), (-55.134634115, 78.759611411))
            ThreePointArc((-55.134634115, 78.759611411), (-46.892976728, 76.259611411), (-55.134634115, 73.759611411))
            Line((-55.134634115, 73.759611411), (-66.392976728, 73.759611411))
            ThreePointArc((-66.392976728, 73.759611411), (-68.100083509, 73.05250463), (-67.392976728, 74.759611411))
            Line((-67.392976728, 74.759611411), (-54.555254388, 74.759611411))
            ThreePointArc((-54.555254388, 74.759611411), (-47.892976728, 76.259611411), (-54.555254388, 77.759611411))
        make_face()
    extrude(amount=-CORTE_EXTRUS_O5_DEPTH, mode=Mode.SUBTRACT)


solid = part.part
